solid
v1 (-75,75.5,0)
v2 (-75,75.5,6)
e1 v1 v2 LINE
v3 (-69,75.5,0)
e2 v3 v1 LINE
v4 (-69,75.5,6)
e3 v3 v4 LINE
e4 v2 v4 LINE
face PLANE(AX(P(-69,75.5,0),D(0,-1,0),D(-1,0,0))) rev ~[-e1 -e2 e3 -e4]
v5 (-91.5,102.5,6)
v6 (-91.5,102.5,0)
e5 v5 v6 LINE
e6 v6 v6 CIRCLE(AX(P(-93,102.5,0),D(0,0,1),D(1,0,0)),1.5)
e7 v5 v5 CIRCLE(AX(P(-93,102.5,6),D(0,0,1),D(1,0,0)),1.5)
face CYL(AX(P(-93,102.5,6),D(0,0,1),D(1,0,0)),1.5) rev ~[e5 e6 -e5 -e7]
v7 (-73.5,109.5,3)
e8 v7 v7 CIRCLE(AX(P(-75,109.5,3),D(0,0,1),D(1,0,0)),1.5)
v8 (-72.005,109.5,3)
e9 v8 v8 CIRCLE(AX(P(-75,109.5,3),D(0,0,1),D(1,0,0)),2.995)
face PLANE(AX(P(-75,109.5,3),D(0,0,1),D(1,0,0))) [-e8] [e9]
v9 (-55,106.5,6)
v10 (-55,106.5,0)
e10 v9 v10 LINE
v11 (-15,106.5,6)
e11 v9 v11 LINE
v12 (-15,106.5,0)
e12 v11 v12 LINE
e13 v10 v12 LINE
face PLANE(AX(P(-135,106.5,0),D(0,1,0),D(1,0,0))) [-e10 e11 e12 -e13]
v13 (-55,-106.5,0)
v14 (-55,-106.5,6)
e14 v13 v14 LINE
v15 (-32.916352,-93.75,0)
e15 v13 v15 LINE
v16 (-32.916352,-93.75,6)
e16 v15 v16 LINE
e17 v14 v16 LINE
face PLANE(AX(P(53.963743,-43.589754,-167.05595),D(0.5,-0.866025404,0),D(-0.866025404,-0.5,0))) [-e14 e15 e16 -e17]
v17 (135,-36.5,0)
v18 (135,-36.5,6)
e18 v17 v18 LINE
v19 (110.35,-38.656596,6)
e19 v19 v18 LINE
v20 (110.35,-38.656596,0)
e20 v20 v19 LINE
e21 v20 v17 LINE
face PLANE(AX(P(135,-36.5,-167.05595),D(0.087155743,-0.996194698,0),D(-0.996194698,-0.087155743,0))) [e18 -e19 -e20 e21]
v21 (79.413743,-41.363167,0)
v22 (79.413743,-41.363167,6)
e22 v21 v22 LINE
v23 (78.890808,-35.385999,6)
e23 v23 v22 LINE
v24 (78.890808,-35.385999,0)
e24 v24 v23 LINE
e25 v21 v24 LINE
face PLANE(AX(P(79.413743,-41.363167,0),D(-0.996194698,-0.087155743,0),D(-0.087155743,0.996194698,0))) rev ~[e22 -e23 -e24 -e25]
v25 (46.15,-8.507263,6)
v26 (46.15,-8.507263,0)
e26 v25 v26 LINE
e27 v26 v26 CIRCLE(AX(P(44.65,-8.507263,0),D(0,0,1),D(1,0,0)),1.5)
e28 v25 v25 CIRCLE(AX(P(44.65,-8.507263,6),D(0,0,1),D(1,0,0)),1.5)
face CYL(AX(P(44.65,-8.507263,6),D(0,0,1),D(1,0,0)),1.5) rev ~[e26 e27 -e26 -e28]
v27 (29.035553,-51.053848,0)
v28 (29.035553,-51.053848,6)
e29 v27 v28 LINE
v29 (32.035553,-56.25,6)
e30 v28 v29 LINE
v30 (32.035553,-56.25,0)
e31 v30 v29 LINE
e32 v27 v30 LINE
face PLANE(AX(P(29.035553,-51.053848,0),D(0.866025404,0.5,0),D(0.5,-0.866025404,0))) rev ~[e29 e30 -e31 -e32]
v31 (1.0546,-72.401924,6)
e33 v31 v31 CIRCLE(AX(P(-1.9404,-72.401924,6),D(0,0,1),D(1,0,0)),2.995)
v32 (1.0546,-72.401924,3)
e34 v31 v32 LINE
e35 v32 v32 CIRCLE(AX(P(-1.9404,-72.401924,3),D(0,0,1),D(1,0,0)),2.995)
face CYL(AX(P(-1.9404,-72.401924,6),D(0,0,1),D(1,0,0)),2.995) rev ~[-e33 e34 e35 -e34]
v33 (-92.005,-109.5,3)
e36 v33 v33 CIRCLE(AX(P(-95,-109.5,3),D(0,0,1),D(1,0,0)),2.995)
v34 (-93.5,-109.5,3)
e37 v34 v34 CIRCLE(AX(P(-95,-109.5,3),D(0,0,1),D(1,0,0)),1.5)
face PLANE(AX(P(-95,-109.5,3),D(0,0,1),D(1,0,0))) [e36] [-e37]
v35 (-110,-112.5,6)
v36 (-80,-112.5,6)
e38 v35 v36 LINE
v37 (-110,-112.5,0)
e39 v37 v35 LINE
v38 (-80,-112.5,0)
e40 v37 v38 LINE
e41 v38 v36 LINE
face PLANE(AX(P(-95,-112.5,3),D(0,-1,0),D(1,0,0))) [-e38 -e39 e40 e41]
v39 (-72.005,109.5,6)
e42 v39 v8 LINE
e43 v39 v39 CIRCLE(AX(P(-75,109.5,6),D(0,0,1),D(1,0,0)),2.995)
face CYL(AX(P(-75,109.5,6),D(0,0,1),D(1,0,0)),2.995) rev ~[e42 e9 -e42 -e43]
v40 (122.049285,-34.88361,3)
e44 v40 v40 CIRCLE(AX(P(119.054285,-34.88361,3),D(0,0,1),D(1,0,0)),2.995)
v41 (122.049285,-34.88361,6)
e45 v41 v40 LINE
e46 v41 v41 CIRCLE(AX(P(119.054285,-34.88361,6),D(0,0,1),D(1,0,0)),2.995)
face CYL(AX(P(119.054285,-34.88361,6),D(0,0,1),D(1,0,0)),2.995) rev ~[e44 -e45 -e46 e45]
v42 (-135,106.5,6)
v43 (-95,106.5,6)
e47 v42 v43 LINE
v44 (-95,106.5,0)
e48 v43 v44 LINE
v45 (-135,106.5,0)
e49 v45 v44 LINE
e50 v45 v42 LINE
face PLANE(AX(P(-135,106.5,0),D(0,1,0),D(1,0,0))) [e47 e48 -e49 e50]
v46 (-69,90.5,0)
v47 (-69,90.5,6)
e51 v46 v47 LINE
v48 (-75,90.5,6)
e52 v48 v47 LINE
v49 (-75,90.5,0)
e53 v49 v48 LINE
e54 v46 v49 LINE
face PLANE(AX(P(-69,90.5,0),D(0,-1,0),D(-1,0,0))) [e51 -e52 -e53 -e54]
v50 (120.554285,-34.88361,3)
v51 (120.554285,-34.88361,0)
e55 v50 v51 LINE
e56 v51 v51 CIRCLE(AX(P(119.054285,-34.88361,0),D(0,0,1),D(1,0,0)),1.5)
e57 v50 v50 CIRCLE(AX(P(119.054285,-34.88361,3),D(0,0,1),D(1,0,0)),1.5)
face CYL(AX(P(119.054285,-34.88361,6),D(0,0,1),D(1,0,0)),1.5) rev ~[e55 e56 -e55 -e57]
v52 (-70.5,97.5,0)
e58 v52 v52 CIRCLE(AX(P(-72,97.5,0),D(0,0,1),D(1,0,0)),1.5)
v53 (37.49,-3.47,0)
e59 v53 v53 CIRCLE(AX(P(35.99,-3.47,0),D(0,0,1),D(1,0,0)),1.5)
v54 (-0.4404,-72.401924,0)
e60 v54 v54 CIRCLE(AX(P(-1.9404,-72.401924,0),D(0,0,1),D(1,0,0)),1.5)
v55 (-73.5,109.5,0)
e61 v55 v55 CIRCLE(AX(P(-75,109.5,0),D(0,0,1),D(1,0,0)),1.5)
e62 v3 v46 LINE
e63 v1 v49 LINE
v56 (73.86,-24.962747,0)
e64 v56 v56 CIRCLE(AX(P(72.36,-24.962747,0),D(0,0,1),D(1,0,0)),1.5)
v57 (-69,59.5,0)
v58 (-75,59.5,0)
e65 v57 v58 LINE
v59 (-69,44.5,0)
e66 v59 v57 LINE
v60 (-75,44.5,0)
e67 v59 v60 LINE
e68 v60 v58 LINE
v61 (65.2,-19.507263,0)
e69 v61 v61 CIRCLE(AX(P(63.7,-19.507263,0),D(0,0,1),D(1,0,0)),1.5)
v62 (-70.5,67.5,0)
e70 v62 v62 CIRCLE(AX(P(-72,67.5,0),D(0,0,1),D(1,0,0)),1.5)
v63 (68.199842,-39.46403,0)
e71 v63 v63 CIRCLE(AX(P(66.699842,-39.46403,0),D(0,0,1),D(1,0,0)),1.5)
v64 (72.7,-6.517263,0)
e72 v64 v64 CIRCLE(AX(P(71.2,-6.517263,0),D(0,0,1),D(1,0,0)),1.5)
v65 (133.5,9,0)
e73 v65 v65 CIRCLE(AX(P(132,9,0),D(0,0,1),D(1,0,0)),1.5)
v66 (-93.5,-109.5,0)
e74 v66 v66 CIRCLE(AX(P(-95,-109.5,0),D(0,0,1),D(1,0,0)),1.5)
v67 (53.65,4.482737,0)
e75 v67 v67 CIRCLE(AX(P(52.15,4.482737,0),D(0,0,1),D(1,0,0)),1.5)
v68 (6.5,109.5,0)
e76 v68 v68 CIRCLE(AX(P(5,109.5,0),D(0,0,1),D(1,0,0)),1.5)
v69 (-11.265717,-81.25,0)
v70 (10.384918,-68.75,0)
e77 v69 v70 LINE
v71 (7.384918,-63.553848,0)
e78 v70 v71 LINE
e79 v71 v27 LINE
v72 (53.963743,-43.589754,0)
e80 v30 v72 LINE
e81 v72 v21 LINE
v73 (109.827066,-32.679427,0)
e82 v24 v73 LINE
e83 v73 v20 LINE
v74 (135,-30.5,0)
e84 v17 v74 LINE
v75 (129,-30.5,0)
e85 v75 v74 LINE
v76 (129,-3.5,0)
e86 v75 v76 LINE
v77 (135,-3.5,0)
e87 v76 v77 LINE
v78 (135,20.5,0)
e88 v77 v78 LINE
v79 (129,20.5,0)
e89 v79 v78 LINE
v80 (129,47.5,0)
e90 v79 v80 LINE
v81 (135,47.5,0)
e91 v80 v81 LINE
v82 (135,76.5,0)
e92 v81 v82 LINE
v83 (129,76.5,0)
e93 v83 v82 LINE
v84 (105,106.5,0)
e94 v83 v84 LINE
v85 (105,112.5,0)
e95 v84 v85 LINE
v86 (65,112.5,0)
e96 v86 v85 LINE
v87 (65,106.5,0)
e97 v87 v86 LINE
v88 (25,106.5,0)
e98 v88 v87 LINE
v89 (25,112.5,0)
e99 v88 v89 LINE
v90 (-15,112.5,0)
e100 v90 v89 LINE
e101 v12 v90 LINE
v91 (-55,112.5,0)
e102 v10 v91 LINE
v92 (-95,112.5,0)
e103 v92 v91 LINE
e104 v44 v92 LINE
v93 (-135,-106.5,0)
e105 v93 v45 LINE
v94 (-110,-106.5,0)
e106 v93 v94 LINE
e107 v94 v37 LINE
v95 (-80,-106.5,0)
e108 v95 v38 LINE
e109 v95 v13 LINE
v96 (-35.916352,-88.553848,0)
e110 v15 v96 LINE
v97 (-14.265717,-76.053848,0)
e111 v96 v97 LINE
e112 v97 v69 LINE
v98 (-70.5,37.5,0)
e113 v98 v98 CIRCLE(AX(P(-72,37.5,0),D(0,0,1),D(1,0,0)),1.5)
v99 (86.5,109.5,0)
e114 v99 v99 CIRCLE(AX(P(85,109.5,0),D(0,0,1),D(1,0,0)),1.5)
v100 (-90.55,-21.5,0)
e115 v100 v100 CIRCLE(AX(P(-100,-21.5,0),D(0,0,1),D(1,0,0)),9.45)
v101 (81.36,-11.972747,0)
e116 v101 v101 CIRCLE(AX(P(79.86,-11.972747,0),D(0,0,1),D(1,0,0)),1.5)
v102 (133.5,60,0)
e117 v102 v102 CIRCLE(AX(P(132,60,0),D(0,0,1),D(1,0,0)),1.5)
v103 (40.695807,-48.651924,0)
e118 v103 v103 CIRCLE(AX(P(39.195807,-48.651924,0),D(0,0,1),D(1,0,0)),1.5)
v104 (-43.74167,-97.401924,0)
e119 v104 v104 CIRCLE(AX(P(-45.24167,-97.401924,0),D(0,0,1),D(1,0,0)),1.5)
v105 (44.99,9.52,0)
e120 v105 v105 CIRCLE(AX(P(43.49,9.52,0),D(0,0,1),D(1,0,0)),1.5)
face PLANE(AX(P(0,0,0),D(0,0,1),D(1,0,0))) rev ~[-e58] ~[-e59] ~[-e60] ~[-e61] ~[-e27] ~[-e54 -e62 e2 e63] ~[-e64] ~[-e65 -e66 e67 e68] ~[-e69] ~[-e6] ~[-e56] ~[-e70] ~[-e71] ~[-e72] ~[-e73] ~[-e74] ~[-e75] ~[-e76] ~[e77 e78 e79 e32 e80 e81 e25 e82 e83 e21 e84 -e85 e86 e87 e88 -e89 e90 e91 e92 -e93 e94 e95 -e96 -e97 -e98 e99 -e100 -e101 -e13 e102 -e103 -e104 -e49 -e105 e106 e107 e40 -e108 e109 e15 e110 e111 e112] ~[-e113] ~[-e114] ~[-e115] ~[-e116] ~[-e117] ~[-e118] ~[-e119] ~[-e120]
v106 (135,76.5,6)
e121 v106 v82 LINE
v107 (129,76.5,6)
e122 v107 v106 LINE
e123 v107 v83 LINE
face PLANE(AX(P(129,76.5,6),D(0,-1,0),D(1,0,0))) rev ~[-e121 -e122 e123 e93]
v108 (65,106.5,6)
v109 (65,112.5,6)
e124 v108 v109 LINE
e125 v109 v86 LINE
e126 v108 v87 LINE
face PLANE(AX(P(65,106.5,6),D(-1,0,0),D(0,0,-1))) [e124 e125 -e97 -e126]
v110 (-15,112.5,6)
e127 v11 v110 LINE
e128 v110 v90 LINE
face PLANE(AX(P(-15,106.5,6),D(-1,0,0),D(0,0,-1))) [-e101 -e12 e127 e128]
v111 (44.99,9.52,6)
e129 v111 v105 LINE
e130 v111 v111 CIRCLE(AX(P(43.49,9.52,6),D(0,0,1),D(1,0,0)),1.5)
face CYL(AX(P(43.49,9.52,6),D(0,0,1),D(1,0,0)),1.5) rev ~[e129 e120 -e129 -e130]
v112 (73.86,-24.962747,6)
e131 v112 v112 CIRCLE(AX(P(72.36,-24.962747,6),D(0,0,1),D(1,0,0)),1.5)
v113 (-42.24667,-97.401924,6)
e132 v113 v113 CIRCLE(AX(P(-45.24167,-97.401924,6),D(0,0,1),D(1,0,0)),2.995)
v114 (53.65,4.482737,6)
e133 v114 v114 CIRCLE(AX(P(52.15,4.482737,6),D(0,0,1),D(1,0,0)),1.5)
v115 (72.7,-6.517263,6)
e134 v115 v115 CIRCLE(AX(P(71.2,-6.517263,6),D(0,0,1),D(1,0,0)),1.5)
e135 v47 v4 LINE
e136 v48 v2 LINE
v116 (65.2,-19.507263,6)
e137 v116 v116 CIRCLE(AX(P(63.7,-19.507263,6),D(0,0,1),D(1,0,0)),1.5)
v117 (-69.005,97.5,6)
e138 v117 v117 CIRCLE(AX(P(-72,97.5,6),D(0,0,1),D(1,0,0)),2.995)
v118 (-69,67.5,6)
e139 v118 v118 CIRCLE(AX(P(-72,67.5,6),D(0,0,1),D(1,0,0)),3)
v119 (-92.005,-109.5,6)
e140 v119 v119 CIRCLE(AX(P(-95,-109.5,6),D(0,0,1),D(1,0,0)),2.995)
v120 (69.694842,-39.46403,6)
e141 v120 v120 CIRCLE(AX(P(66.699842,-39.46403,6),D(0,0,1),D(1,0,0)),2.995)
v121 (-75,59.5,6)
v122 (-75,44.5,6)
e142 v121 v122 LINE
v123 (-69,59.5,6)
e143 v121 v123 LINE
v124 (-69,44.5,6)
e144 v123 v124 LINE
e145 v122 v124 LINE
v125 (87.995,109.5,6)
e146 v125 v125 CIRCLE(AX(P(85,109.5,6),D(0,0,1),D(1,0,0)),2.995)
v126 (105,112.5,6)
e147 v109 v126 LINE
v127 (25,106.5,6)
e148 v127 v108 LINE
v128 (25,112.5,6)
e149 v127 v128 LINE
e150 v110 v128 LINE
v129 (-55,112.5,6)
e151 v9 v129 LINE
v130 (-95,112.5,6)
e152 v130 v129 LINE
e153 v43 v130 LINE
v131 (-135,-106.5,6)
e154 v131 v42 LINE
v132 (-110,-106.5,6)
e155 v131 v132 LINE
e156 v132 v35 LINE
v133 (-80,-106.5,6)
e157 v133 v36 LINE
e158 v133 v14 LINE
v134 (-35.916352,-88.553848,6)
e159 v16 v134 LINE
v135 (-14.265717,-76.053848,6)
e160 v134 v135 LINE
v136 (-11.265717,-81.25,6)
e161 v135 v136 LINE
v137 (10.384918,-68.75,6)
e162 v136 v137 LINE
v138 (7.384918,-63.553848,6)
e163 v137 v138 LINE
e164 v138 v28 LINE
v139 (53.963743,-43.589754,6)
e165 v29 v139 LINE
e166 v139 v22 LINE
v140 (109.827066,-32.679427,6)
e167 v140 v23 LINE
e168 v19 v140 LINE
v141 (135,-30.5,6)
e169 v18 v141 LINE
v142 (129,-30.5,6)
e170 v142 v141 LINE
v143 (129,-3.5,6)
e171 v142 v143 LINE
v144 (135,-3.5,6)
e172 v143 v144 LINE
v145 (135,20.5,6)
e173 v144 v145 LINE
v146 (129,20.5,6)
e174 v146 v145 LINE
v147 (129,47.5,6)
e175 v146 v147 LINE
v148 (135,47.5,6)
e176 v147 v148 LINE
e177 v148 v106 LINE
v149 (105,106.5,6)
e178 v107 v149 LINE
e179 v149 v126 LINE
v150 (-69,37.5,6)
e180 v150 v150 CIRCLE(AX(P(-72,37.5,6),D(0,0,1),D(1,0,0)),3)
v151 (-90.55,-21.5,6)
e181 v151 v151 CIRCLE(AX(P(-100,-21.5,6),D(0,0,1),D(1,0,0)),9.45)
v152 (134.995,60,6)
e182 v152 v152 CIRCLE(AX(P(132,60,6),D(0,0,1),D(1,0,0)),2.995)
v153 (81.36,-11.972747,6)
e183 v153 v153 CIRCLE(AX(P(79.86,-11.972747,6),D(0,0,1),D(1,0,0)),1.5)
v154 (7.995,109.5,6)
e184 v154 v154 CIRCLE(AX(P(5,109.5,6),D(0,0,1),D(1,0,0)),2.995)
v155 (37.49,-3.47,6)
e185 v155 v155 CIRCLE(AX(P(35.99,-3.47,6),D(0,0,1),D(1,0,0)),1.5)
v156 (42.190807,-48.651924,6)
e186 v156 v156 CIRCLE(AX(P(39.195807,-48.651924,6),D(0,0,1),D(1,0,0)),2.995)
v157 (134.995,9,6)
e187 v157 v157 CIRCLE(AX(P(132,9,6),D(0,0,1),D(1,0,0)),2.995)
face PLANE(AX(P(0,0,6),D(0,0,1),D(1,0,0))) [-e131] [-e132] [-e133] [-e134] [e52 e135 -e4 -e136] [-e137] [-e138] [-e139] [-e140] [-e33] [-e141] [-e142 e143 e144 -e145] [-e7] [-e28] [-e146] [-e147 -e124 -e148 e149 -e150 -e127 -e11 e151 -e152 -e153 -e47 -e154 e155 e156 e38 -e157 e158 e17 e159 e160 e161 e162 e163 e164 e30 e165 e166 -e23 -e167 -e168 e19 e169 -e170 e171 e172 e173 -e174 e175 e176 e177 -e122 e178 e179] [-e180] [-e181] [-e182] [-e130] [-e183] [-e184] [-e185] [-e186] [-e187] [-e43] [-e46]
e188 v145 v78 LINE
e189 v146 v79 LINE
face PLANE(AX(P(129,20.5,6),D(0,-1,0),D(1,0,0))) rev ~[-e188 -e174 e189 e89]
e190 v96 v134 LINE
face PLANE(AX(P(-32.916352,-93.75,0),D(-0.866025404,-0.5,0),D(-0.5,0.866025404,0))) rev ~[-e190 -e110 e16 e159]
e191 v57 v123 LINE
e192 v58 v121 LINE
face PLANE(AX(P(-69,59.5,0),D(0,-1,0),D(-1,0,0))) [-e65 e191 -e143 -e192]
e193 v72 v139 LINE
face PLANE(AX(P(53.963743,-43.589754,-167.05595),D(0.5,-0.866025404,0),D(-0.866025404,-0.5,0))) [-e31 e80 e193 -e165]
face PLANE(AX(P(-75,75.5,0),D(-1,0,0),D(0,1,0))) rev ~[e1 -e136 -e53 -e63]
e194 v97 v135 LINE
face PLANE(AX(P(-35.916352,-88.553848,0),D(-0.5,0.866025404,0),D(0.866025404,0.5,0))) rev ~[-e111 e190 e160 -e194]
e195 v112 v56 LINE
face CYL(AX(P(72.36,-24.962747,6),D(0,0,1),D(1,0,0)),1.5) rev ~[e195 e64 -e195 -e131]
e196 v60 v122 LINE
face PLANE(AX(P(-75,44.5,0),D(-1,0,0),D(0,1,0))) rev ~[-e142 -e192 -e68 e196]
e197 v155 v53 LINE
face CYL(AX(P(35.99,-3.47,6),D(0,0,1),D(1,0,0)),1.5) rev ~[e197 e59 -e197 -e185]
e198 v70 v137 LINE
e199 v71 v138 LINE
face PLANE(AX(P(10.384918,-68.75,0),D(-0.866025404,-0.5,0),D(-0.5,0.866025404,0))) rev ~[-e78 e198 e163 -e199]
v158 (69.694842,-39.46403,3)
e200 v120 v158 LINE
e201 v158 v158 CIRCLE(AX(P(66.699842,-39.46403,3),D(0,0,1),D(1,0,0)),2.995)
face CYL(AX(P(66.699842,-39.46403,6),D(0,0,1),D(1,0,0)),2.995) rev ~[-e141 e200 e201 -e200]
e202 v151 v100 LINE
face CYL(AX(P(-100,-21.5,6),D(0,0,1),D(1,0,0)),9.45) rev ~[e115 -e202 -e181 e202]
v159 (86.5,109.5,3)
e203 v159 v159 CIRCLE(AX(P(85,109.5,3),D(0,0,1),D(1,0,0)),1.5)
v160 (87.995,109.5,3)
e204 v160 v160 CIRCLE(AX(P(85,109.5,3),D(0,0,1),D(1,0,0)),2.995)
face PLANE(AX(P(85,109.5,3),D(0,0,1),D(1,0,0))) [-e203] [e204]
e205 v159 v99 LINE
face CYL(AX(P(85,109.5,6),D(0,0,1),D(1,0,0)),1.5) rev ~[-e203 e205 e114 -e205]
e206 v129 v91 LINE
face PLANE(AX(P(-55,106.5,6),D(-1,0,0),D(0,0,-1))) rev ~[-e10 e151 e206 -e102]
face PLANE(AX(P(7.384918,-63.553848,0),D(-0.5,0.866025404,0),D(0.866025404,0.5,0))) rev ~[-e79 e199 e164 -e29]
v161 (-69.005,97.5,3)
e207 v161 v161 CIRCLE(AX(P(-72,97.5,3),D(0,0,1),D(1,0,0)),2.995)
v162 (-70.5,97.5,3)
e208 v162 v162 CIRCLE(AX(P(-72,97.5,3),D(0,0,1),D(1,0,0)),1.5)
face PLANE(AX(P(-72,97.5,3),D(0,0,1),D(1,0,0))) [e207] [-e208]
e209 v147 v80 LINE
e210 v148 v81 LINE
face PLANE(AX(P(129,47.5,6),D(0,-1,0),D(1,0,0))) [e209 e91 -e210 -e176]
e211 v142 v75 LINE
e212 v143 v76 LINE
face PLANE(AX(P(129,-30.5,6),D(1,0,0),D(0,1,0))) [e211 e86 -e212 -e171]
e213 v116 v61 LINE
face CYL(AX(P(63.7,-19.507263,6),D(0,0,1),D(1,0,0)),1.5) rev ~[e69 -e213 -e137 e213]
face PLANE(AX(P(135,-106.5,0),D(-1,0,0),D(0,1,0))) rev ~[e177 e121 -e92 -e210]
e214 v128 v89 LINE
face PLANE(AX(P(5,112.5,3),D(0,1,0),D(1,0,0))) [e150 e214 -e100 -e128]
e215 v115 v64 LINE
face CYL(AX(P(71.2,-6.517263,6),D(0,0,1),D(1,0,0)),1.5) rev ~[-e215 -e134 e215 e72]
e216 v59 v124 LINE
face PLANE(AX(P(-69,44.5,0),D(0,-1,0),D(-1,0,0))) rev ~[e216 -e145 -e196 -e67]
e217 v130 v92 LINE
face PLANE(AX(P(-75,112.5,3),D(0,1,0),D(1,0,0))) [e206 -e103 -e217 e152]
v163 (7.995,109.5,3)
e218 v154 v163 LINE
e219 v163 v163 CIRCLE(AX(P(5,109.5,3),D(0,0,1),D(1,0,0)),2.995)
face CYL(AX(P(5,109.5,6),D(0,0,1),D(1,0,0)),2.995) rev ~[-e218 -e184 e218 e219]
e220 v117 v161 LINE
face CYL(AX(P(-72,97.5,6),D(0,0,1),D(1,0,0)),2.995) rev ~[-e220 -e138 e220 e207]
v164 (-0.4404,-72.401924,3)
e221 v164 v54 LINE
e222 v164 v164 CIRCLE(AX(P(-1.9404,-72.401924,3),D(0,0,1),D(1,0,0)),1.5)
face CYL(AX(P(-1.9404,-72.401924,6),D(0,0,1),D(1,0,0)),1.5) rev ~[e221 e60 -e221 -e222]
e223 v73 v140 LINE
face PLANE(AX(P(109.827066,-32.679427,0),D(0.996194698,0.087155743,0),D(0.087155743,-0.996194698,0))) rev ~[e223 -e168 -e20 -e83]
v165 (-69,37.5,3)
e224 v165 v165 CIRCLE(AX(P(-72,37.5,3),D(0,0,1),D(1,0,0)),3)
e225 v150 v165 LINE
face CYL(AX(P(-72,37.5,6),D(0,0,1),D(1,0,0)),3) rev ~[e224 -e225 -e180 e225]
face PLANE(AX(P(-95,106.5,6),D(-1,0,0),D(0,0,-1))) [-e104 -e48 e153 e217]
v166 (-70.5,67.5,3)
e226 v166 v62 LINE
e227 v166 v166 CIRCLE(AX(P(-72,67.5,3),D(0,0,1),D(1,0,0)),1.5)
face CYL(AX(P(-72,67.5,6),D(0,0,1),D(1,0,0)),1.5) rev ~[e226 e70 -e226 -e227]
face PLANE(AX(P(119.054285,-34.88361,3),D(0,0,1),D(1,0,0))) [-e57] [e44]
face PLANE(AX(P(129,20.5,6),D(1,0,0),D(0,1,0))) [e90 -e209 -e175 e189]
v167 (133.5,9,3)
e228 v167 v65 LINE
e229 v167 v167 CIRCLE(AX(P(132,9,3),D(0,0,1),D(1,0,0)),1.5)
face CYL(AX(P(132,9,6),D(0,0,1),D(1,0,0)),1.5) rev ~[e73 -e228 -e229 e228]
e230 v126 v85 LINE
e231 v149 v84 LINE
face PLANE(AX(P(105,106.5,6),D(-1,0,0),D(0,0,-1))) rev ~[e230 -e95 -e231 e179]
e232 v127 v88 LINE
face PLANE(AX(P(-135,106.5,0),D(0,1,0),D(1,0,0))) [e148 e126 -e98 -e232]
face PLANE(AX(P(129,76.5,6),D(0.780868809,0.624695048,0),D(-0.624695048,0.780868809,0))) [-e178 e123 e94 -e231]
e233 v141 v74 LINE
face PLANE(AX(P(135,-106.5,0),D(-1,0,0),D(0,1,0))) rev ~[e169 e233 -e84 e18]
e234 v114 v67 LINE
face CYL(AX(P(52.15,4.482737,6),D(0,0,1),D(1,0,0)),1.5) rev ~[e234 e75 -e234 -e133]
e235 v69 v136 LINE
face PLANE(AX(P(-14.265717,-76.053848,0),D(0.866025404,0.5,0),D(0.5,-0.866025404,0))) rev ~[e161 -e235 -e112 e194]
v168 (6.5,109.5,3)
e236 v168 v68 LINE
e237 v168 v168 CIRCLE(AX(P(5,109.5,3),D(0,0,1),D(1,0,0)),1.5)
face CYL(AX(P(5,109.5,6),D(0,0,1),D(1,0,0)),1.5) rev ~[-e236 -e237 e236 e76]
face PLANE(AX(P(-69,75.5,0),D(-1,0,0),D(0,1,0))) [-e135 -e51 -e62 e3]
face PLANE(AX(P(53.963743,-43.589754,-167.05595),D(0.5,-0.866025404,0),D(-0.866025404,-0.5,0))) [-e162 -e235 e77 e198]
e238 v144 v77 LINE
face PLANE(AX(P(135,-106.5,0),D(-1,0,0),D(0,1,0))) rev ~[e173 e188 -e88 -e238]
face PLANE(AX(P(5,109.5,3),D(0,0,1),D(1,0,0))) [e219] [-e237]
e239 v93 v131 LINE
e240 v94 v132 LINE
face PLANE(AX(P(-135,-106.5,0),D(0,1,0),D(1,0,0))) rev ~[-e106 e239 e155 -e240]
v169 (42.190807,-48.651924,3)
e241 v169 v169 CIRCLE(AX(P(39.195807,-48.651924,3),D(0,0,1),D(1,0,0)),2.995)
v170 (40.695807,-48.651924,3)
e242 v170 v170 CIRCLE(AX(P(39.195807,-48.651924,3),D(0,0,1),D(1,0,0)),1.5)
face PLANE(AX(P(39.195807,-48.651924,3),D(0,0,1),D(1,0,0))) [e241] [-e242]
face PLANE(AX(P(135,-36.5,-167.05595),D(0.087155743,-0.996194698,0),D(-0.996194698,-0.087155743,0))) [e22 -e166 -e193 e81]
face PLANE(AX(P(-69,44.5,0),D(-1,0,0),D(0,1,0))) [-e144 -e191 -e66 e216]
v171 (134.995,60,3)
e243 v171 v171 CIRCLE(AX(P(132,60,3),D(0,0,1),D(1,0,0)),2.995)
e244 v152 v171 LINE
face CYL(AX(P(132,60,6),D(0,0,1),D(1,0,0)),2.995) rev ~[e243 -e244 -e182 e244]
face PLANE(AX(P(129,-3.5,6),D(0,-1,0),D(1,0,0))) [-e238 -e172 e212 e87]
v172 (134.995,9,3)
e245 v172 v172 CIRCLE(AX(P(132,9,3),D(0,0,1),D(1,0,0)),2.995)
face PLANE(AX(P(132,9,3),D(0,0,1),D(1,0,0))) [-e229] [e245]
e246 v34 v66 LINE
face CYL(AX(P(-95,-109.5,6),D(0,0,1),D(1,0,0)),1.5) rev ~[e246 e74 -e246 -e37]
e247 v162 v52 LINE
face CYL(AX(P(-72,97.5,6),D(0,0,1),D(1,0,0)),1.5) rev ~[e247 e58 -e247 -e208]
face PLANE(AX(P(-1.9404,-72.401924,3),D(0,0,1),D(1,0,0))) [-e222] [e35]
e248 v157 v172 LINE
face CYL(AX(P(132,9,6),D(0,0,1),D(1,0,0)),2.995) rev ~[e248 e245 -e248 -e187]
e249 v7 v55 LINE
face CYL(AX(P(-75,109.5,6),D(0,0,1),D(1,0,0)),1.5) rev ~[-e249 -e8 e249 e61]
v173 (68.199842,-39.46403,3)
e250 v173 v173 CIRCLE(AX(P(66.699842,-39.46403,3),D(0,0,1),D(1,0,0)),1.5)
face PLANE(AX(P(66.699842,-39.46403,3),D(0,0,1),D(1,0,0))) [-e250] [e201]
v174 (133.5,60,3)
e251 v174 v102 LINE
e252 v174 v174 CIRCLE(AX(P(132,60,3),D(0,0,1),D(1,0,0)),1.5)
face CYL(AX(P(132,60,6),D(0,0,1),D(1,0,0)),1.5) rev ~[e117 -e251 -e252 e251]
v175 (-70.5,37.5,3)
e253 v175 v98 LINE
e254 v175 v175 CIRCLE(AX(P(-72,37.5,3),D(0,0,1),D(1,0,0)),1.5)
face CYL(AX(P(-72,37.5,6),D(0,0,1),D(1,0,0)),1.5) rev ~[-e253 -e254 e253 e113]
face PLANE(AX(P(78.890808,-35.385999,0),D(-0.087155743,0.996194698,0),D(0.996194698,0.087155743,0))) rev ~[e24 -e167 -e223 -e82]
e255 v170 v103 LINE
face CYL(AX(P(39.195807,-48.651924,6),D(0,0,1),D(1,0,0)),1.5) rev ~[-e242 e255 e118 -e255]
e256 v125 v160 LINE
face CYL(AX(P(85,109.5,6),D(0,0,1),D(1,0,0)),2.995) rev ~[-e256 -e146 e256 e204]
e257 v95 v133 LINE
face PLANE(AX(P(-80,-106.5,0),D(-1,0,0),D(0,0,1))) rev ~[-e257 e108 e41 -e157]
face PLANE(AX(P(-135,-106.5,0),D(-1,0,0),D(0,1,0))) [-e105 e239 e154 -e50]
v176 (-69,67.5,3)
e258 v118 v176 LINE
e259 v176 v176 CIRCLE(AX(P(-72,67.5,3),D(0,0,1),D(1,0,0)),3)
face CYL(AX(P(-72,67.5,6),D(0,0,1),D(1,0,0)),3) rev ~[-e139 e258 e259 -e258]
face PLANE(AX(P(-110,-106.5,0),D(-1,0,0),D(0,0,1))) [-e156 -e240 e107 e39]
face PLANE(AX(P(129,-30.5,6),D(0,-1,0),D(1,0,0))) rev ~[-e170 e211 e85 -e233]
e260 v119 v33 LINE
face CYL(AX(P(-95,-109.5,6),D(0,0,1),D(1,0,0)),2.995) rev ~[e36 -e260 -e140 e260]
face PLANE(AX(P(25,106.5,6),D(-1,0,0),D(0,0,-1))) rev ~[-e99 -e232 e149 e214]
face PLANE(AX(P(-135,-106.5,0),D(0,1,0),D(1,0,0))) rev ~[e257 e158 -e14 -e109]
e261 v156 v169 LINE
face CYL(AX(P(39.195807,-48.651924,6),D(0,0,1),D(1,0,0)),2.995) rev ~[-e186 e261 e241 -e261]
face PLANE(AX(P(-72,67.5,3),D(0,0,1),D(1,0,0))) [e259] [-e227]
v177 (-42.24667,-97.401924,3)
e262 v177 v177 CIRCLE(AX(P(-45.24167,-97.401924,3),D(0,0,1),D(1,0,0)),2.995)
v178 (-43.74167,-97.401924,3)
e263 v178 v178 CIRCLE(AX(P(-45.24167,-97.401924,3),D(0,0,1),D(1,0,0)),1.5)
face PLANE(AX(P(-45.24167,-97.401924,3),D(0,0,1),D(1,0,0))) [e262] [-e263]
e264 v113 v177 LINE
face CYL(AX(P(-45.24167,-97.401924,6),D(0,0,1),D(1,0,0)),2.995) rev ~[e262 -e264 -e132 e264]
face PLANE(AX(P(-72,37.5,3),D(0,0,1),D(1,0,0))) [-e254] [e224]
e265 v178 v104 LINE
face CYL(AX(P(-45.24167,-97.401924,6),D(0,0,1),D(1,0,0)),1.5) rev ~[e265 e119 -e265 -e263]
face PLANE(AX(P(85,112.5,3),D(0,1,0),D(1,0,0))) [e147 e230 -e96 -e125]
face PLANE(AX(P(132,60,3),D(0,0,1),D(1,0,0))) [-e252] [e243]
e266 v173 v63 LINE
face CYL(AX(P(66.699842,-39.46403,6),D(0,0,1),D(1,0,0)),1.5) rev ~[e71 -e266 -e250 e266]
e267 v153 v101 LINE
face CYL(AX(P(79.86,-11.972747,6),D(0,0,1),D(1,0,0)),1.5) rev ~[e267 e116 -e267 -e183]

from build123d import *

# Parameters (mm, degrees)
ESQUISSE1_W                   = 270
ESQUISSE1_H                   = 213
BOSS_EXTRU_1_DEPTH            = 6
ESQUISSE3_R                   = 9.45
ESQUISSE3_R_2                 = 1.5
ENL_V_MAT_EXTRU_1_DEPTH       = 10
ENL_V_MAT_EXTRU_11_DEPTH      = 173.055950202
ENL_V_MAT_EXTRU_11_DEPTH_BACK = 173.055950202
ESQUISSE7_W                   = 6
ESQUISSE7_H                   = 30
ESQUISSE7_H_2                 = 27
ENL_V_MAT_EXTRU_13_DEPTH      = 10
ESQUISSE8_W                   = 40
ESQUISSE8_H                   = 6
BOSS_EXTRU_2_DEPTH            = 6
ENL_V_MAT_EXTRU_14_DEPTH      = 10
ENL_V_MAT_EXTRU_15_DEPTH      = 6
ESQUISSE11_W                  = 6
ESQUISSE11_H                  = 15
ENL_V_MAT_EXTRU_16_DEPTH      = 10
ESQUISSE14_W                  = 30
ESQUISSE14_H                  = 6
BOSS_EXTRU_3_DEPTH            = 6
ENL_V_MAT_EXTRU_18_DEPTH      = 176.833017377
ESQUISSE17_R                  = 2.995
ESQUISSE17_R_2                = 3
ENL_V_MAT_EXTRU_20_DEPTH      = 3
ESQUISSE18_R                  = 1.5
ENL_V_MAT_EXTRU_21_DEPTH      = 13


with BuildPart() as part:
    # Esquisse1 → Boss.-Extru.1 (new body)
    with BuildSketch(Plane.XY):
        Rectangle(ESQUISSE1_W, ESQUISSE1_H)
    extrude(amount=BOSS_EXTRU_1_DEPTH)

    # Esquisse3 → Enlèv. mat.-Extru.1 (cut)
    with BuildSketch(Plane.XY.offset(6)):
        with Locations((-100, -21.5)):
            Circle(ESQUISSE3_R)
        with Locations((35.99, -3.47)):
            Circle(ESQUISSE3_R_2)
        with Locations((43.49, 9.52)):
            Circle(ESQUISSE3_R_2)
        with Locations((44.65, -8.50726277)):
            Circle(ESQUISSE3_R_2)
        with Locations((52.15, 4.48273723)):
            Circle(ESQUISSE3_R_2)
        with Locations((71.2, -6.51726277)):
            Circle(ESQUISSE3_R_2)
        with Locations((63.7, -19.50726277)):
            Circle(ESQUISSE3_R_2)
        with Locations((72.36, -24.962747355)):
            Circle(ESQUISSE3_R_2)
        with Locations((79.86, -11.972747355)):
            Circle(ESQUISSE3_R_2)
    extrude(amount=-ENL_V_MAT_EXTRU_1_DEPTH, mode=Mode.SUBTRACT)

    # Esquisse5 → Enlèv. mat.-Extru.11 (cut, two sides: drawn at the far end of the back side and taken through both)
    with BuildSketch(Plane.XY.offset(6).offset(-ENL_V_MAT_EXTRU_11_DEPTH_BACK)):
        Polygon((135, -36.5), (53.963742643, -43.589753853), (-55, -106.5), (135, -106.5), align=None)
    extrude(amount=ENL_V_MAT_EXTRU_11_DEPTH + ENL_V_MAT_EXTRU_11_DEPTH_BACK, mode=Mode.SUBTRACT)

    # Esquisse7 → Enlèv. mat.-Extru.13 (cut)
    with BuildSketch(Plane.XY.offset(6)):
        with Locations((132, 91.5)):
            Rectangle(ESQUISSE7_W, ESQUISSE7_H)
        with Locations((132, -17)):
            Rectangle(ESQUISSE7_W, ESQUISSE7_H_2)
        with Locations((132, 34)):
            Rectangle(ESQUISSE7_W, ESQUISSE7_H_2)
    extrude(amount=-ENL_V_MAT_EXTRU_13_DEPTH, mode=Mode.SUBTRACT)

    # Esquisse8 → Boss.-Extru.2 (add)
    with BuildSketch(Plane(origin=(0, 106.5, 0), x_dir=(1, 0, 0), z_dir=(0, 1, 0))):
        with Locations((85, -3)):
            Rectangle(ESQUISSE8_W, ESQUISSE8_H)
        with Locations((5, -3)):
            Rectangle(ESQUISSE8_W, ESQUISSE8_H)
        with Locations((-75, -3)):
            Rectangle(ESQUISSE8_W, ESQUISSE8_H)
    extrude(amount=BOSS_EXTRU_2_DEPTH)

    # Esquisse9 → Enlèv. mat.-Extru.14 (cut)
    with BuildSketch(Plane(origin=(0, 0, 0), x_dir=(-1, 0, 0), z_dir=(0, 0, -1))):
        Polygon((-110.35, -38.656595556), (-79.413742643, -41.363167367), (-78.890808186, -35.385999178), (-109.827065544, -32.679427367), align=None)
    extrude(amount=-ENL_V_MAT_EXTRU_14_DEPTH, mode=Mode.SUBTRACT)

    # Esquisse10 → Enlèv. mat.-Extru.15 (cut)
    with BuildSketch(Plane(origin=(0, 0, 0), x_dir=(-1, 0, 0), z_dir=(0, 0, -1))):
        Polygon((-32.03555308, -56.25), (-10.384917986, -68.75), (-7.384917986, -63.553847577), (-29.03555308, -51.053847577), align=None)
        Polygon((11.265717109, -81.25), (32.916352203, -93.75), (35.916352203, -88.553847577), (14.265717109, -76.053847577), align=None)
    extrude(amount=-ENL_V_MAT_EXTRU_15_DEPTH, mode=Mode.SUBTRACT)

    # Esquisse11 → Enlèv. mat.-Extru.16 (cut)
    with BuildSketch(Plane(origin=(0, 0, 0), x_dir=(-1, 0, 0), z_dir=(0, 0, -1))):
        with Locations((72, 52)):
            Rectangle(ESQUISSE11_W, ESQUISSE11_H)
        with Locations((72, 83)):
            Rectangle(ESQUISSE11_W, ESQUISSE11_H)
    extrude(amount=-ENL_V_MAT_EXTRU_16_DEPTH, mode=Mode.SUBTRACT)

    # Esquisse14 → Boss.-Extru.3 (add)
    with BuildSketch(Plane.XZ.offset(106.5)):
        with Locations((-95, 3)):
            Rectangle(ESQUISSE14_W, ESQUISSE14_H)
    extrude(amount=BOSS_EXTRU_3_DEPTH)

    # Esquisse15 → Enlèv. mat.-Extru.18 (cut, through all)
    with BuildSketch(Plane.XY.offset(6)):
        Polygon((105, 106.5), (129, 106.5), (129, 76.5), align=None)
    extrude(amount=-ENL_V_MAT_EXTRU_18_DEPTH, mode=Mode.SUBTRACT)

    # Esquisse17 → Enlèv. mat.-Extru.20 (cut)
    with BuildSketch(Plane.XY.offset(6)):
        with Locations((-75, 109.5)):
            Circle(ESQUISSE17_R)
        with Locations((5, 109.5)):
            Circle(ESQUISSE17_R)
        with Locations((85, 109.5)):
            Circle(ESQUISSE17_R)
        with Locations((132, 60)):
            Circle(ESQUISSE17_R)
        with Locations((132, 9)):
            Circle(ESQUISSE17_R)
        with Locations((-1.940399562, -72.401923789)):
            Circle(ESQUISSE17_R)
        with Locations((119.054285055, -34.883609777)):
            Circle(ESQUISSE17_R)
        with Locations((66.699841688, -39.464030057)):
            Circle(ESQUISSE17_R)
        with Locations((-45.241669751, -97.401923789)):
            Circle(ESQUISSE17_R)
        with Locations((-95, -109.5)):
            Circle(ESQUISSE17_R)
        with Locations((39.195807118, -48.651923789)):
            Circle(ESQUISSE17_R)
        with Locations((-72, 67.5)):
            Circle(ESQUISSE17_R_2)
        with Locations((-72, 37.5)):
            Circle(ESQUISSE17_R_2)
        with Locations((-72, 97.5)):
            Circle(ESQUISSE17_R)
    extrude(amount=-ENL_V_MAT_EXTRU_20_DEPTH, mode=Mode.SUBTRACT)

    # Esquisse18 → Enlèv. mat.-Extru.21 (cut)
    with BuildSketch(Plane.XY.offset(6)):
        with Locations((-75, 109.5)):
            Circle(ESQUISSE18_R)
        with Locations((5, 109.5)):
            Circle(ESQUISSE18_R)
        with Locations((85, 109.5)):
            Circle(ESQUISSE18_R)
        with Locations((132, 60)):
            Circle(ESQUISSE18_R)
        with Locations((132, 9)):
            Circle(ESQUISSE18_R)
        with Locations((119.054285055, -34.883609777)):
            Circle(ESQUISSE18_R)
        with Locations((66.699841688, -39.464030057)):
            Circle(ESQUISSE18_R)
        with Locations((-1.940399562, -72.401923789)):
            Circle(ESQUISSE18_R)
        with Locations((-45.241669751, -97.401923789)):
            Circle(ESQUISSE18_R)
        with Locations((-72, 97.5)):
            Circle(ESQUISSE18_R)
        with Locations((-72, 67.5)):
            Circle(ESQUISSE18_R)
        with Locations((-72, 37.5)):
            Circle(ESQUISSE18_R)
        with Locations((-95, -109.5)):
            Circle(ESQUISSE18_R)
        with Locations((39.195807118, -48.651923789)):
            Circle(ESQUISSE18_R)
        with Locations((-93, 102.5)):
            Circle(ESQUISSE18_R)
    extrude(amount=-ENL_V_MAT_EXTRU_21_DEPTH, mode=Mode.SUBTRACT)


solid = part.part
